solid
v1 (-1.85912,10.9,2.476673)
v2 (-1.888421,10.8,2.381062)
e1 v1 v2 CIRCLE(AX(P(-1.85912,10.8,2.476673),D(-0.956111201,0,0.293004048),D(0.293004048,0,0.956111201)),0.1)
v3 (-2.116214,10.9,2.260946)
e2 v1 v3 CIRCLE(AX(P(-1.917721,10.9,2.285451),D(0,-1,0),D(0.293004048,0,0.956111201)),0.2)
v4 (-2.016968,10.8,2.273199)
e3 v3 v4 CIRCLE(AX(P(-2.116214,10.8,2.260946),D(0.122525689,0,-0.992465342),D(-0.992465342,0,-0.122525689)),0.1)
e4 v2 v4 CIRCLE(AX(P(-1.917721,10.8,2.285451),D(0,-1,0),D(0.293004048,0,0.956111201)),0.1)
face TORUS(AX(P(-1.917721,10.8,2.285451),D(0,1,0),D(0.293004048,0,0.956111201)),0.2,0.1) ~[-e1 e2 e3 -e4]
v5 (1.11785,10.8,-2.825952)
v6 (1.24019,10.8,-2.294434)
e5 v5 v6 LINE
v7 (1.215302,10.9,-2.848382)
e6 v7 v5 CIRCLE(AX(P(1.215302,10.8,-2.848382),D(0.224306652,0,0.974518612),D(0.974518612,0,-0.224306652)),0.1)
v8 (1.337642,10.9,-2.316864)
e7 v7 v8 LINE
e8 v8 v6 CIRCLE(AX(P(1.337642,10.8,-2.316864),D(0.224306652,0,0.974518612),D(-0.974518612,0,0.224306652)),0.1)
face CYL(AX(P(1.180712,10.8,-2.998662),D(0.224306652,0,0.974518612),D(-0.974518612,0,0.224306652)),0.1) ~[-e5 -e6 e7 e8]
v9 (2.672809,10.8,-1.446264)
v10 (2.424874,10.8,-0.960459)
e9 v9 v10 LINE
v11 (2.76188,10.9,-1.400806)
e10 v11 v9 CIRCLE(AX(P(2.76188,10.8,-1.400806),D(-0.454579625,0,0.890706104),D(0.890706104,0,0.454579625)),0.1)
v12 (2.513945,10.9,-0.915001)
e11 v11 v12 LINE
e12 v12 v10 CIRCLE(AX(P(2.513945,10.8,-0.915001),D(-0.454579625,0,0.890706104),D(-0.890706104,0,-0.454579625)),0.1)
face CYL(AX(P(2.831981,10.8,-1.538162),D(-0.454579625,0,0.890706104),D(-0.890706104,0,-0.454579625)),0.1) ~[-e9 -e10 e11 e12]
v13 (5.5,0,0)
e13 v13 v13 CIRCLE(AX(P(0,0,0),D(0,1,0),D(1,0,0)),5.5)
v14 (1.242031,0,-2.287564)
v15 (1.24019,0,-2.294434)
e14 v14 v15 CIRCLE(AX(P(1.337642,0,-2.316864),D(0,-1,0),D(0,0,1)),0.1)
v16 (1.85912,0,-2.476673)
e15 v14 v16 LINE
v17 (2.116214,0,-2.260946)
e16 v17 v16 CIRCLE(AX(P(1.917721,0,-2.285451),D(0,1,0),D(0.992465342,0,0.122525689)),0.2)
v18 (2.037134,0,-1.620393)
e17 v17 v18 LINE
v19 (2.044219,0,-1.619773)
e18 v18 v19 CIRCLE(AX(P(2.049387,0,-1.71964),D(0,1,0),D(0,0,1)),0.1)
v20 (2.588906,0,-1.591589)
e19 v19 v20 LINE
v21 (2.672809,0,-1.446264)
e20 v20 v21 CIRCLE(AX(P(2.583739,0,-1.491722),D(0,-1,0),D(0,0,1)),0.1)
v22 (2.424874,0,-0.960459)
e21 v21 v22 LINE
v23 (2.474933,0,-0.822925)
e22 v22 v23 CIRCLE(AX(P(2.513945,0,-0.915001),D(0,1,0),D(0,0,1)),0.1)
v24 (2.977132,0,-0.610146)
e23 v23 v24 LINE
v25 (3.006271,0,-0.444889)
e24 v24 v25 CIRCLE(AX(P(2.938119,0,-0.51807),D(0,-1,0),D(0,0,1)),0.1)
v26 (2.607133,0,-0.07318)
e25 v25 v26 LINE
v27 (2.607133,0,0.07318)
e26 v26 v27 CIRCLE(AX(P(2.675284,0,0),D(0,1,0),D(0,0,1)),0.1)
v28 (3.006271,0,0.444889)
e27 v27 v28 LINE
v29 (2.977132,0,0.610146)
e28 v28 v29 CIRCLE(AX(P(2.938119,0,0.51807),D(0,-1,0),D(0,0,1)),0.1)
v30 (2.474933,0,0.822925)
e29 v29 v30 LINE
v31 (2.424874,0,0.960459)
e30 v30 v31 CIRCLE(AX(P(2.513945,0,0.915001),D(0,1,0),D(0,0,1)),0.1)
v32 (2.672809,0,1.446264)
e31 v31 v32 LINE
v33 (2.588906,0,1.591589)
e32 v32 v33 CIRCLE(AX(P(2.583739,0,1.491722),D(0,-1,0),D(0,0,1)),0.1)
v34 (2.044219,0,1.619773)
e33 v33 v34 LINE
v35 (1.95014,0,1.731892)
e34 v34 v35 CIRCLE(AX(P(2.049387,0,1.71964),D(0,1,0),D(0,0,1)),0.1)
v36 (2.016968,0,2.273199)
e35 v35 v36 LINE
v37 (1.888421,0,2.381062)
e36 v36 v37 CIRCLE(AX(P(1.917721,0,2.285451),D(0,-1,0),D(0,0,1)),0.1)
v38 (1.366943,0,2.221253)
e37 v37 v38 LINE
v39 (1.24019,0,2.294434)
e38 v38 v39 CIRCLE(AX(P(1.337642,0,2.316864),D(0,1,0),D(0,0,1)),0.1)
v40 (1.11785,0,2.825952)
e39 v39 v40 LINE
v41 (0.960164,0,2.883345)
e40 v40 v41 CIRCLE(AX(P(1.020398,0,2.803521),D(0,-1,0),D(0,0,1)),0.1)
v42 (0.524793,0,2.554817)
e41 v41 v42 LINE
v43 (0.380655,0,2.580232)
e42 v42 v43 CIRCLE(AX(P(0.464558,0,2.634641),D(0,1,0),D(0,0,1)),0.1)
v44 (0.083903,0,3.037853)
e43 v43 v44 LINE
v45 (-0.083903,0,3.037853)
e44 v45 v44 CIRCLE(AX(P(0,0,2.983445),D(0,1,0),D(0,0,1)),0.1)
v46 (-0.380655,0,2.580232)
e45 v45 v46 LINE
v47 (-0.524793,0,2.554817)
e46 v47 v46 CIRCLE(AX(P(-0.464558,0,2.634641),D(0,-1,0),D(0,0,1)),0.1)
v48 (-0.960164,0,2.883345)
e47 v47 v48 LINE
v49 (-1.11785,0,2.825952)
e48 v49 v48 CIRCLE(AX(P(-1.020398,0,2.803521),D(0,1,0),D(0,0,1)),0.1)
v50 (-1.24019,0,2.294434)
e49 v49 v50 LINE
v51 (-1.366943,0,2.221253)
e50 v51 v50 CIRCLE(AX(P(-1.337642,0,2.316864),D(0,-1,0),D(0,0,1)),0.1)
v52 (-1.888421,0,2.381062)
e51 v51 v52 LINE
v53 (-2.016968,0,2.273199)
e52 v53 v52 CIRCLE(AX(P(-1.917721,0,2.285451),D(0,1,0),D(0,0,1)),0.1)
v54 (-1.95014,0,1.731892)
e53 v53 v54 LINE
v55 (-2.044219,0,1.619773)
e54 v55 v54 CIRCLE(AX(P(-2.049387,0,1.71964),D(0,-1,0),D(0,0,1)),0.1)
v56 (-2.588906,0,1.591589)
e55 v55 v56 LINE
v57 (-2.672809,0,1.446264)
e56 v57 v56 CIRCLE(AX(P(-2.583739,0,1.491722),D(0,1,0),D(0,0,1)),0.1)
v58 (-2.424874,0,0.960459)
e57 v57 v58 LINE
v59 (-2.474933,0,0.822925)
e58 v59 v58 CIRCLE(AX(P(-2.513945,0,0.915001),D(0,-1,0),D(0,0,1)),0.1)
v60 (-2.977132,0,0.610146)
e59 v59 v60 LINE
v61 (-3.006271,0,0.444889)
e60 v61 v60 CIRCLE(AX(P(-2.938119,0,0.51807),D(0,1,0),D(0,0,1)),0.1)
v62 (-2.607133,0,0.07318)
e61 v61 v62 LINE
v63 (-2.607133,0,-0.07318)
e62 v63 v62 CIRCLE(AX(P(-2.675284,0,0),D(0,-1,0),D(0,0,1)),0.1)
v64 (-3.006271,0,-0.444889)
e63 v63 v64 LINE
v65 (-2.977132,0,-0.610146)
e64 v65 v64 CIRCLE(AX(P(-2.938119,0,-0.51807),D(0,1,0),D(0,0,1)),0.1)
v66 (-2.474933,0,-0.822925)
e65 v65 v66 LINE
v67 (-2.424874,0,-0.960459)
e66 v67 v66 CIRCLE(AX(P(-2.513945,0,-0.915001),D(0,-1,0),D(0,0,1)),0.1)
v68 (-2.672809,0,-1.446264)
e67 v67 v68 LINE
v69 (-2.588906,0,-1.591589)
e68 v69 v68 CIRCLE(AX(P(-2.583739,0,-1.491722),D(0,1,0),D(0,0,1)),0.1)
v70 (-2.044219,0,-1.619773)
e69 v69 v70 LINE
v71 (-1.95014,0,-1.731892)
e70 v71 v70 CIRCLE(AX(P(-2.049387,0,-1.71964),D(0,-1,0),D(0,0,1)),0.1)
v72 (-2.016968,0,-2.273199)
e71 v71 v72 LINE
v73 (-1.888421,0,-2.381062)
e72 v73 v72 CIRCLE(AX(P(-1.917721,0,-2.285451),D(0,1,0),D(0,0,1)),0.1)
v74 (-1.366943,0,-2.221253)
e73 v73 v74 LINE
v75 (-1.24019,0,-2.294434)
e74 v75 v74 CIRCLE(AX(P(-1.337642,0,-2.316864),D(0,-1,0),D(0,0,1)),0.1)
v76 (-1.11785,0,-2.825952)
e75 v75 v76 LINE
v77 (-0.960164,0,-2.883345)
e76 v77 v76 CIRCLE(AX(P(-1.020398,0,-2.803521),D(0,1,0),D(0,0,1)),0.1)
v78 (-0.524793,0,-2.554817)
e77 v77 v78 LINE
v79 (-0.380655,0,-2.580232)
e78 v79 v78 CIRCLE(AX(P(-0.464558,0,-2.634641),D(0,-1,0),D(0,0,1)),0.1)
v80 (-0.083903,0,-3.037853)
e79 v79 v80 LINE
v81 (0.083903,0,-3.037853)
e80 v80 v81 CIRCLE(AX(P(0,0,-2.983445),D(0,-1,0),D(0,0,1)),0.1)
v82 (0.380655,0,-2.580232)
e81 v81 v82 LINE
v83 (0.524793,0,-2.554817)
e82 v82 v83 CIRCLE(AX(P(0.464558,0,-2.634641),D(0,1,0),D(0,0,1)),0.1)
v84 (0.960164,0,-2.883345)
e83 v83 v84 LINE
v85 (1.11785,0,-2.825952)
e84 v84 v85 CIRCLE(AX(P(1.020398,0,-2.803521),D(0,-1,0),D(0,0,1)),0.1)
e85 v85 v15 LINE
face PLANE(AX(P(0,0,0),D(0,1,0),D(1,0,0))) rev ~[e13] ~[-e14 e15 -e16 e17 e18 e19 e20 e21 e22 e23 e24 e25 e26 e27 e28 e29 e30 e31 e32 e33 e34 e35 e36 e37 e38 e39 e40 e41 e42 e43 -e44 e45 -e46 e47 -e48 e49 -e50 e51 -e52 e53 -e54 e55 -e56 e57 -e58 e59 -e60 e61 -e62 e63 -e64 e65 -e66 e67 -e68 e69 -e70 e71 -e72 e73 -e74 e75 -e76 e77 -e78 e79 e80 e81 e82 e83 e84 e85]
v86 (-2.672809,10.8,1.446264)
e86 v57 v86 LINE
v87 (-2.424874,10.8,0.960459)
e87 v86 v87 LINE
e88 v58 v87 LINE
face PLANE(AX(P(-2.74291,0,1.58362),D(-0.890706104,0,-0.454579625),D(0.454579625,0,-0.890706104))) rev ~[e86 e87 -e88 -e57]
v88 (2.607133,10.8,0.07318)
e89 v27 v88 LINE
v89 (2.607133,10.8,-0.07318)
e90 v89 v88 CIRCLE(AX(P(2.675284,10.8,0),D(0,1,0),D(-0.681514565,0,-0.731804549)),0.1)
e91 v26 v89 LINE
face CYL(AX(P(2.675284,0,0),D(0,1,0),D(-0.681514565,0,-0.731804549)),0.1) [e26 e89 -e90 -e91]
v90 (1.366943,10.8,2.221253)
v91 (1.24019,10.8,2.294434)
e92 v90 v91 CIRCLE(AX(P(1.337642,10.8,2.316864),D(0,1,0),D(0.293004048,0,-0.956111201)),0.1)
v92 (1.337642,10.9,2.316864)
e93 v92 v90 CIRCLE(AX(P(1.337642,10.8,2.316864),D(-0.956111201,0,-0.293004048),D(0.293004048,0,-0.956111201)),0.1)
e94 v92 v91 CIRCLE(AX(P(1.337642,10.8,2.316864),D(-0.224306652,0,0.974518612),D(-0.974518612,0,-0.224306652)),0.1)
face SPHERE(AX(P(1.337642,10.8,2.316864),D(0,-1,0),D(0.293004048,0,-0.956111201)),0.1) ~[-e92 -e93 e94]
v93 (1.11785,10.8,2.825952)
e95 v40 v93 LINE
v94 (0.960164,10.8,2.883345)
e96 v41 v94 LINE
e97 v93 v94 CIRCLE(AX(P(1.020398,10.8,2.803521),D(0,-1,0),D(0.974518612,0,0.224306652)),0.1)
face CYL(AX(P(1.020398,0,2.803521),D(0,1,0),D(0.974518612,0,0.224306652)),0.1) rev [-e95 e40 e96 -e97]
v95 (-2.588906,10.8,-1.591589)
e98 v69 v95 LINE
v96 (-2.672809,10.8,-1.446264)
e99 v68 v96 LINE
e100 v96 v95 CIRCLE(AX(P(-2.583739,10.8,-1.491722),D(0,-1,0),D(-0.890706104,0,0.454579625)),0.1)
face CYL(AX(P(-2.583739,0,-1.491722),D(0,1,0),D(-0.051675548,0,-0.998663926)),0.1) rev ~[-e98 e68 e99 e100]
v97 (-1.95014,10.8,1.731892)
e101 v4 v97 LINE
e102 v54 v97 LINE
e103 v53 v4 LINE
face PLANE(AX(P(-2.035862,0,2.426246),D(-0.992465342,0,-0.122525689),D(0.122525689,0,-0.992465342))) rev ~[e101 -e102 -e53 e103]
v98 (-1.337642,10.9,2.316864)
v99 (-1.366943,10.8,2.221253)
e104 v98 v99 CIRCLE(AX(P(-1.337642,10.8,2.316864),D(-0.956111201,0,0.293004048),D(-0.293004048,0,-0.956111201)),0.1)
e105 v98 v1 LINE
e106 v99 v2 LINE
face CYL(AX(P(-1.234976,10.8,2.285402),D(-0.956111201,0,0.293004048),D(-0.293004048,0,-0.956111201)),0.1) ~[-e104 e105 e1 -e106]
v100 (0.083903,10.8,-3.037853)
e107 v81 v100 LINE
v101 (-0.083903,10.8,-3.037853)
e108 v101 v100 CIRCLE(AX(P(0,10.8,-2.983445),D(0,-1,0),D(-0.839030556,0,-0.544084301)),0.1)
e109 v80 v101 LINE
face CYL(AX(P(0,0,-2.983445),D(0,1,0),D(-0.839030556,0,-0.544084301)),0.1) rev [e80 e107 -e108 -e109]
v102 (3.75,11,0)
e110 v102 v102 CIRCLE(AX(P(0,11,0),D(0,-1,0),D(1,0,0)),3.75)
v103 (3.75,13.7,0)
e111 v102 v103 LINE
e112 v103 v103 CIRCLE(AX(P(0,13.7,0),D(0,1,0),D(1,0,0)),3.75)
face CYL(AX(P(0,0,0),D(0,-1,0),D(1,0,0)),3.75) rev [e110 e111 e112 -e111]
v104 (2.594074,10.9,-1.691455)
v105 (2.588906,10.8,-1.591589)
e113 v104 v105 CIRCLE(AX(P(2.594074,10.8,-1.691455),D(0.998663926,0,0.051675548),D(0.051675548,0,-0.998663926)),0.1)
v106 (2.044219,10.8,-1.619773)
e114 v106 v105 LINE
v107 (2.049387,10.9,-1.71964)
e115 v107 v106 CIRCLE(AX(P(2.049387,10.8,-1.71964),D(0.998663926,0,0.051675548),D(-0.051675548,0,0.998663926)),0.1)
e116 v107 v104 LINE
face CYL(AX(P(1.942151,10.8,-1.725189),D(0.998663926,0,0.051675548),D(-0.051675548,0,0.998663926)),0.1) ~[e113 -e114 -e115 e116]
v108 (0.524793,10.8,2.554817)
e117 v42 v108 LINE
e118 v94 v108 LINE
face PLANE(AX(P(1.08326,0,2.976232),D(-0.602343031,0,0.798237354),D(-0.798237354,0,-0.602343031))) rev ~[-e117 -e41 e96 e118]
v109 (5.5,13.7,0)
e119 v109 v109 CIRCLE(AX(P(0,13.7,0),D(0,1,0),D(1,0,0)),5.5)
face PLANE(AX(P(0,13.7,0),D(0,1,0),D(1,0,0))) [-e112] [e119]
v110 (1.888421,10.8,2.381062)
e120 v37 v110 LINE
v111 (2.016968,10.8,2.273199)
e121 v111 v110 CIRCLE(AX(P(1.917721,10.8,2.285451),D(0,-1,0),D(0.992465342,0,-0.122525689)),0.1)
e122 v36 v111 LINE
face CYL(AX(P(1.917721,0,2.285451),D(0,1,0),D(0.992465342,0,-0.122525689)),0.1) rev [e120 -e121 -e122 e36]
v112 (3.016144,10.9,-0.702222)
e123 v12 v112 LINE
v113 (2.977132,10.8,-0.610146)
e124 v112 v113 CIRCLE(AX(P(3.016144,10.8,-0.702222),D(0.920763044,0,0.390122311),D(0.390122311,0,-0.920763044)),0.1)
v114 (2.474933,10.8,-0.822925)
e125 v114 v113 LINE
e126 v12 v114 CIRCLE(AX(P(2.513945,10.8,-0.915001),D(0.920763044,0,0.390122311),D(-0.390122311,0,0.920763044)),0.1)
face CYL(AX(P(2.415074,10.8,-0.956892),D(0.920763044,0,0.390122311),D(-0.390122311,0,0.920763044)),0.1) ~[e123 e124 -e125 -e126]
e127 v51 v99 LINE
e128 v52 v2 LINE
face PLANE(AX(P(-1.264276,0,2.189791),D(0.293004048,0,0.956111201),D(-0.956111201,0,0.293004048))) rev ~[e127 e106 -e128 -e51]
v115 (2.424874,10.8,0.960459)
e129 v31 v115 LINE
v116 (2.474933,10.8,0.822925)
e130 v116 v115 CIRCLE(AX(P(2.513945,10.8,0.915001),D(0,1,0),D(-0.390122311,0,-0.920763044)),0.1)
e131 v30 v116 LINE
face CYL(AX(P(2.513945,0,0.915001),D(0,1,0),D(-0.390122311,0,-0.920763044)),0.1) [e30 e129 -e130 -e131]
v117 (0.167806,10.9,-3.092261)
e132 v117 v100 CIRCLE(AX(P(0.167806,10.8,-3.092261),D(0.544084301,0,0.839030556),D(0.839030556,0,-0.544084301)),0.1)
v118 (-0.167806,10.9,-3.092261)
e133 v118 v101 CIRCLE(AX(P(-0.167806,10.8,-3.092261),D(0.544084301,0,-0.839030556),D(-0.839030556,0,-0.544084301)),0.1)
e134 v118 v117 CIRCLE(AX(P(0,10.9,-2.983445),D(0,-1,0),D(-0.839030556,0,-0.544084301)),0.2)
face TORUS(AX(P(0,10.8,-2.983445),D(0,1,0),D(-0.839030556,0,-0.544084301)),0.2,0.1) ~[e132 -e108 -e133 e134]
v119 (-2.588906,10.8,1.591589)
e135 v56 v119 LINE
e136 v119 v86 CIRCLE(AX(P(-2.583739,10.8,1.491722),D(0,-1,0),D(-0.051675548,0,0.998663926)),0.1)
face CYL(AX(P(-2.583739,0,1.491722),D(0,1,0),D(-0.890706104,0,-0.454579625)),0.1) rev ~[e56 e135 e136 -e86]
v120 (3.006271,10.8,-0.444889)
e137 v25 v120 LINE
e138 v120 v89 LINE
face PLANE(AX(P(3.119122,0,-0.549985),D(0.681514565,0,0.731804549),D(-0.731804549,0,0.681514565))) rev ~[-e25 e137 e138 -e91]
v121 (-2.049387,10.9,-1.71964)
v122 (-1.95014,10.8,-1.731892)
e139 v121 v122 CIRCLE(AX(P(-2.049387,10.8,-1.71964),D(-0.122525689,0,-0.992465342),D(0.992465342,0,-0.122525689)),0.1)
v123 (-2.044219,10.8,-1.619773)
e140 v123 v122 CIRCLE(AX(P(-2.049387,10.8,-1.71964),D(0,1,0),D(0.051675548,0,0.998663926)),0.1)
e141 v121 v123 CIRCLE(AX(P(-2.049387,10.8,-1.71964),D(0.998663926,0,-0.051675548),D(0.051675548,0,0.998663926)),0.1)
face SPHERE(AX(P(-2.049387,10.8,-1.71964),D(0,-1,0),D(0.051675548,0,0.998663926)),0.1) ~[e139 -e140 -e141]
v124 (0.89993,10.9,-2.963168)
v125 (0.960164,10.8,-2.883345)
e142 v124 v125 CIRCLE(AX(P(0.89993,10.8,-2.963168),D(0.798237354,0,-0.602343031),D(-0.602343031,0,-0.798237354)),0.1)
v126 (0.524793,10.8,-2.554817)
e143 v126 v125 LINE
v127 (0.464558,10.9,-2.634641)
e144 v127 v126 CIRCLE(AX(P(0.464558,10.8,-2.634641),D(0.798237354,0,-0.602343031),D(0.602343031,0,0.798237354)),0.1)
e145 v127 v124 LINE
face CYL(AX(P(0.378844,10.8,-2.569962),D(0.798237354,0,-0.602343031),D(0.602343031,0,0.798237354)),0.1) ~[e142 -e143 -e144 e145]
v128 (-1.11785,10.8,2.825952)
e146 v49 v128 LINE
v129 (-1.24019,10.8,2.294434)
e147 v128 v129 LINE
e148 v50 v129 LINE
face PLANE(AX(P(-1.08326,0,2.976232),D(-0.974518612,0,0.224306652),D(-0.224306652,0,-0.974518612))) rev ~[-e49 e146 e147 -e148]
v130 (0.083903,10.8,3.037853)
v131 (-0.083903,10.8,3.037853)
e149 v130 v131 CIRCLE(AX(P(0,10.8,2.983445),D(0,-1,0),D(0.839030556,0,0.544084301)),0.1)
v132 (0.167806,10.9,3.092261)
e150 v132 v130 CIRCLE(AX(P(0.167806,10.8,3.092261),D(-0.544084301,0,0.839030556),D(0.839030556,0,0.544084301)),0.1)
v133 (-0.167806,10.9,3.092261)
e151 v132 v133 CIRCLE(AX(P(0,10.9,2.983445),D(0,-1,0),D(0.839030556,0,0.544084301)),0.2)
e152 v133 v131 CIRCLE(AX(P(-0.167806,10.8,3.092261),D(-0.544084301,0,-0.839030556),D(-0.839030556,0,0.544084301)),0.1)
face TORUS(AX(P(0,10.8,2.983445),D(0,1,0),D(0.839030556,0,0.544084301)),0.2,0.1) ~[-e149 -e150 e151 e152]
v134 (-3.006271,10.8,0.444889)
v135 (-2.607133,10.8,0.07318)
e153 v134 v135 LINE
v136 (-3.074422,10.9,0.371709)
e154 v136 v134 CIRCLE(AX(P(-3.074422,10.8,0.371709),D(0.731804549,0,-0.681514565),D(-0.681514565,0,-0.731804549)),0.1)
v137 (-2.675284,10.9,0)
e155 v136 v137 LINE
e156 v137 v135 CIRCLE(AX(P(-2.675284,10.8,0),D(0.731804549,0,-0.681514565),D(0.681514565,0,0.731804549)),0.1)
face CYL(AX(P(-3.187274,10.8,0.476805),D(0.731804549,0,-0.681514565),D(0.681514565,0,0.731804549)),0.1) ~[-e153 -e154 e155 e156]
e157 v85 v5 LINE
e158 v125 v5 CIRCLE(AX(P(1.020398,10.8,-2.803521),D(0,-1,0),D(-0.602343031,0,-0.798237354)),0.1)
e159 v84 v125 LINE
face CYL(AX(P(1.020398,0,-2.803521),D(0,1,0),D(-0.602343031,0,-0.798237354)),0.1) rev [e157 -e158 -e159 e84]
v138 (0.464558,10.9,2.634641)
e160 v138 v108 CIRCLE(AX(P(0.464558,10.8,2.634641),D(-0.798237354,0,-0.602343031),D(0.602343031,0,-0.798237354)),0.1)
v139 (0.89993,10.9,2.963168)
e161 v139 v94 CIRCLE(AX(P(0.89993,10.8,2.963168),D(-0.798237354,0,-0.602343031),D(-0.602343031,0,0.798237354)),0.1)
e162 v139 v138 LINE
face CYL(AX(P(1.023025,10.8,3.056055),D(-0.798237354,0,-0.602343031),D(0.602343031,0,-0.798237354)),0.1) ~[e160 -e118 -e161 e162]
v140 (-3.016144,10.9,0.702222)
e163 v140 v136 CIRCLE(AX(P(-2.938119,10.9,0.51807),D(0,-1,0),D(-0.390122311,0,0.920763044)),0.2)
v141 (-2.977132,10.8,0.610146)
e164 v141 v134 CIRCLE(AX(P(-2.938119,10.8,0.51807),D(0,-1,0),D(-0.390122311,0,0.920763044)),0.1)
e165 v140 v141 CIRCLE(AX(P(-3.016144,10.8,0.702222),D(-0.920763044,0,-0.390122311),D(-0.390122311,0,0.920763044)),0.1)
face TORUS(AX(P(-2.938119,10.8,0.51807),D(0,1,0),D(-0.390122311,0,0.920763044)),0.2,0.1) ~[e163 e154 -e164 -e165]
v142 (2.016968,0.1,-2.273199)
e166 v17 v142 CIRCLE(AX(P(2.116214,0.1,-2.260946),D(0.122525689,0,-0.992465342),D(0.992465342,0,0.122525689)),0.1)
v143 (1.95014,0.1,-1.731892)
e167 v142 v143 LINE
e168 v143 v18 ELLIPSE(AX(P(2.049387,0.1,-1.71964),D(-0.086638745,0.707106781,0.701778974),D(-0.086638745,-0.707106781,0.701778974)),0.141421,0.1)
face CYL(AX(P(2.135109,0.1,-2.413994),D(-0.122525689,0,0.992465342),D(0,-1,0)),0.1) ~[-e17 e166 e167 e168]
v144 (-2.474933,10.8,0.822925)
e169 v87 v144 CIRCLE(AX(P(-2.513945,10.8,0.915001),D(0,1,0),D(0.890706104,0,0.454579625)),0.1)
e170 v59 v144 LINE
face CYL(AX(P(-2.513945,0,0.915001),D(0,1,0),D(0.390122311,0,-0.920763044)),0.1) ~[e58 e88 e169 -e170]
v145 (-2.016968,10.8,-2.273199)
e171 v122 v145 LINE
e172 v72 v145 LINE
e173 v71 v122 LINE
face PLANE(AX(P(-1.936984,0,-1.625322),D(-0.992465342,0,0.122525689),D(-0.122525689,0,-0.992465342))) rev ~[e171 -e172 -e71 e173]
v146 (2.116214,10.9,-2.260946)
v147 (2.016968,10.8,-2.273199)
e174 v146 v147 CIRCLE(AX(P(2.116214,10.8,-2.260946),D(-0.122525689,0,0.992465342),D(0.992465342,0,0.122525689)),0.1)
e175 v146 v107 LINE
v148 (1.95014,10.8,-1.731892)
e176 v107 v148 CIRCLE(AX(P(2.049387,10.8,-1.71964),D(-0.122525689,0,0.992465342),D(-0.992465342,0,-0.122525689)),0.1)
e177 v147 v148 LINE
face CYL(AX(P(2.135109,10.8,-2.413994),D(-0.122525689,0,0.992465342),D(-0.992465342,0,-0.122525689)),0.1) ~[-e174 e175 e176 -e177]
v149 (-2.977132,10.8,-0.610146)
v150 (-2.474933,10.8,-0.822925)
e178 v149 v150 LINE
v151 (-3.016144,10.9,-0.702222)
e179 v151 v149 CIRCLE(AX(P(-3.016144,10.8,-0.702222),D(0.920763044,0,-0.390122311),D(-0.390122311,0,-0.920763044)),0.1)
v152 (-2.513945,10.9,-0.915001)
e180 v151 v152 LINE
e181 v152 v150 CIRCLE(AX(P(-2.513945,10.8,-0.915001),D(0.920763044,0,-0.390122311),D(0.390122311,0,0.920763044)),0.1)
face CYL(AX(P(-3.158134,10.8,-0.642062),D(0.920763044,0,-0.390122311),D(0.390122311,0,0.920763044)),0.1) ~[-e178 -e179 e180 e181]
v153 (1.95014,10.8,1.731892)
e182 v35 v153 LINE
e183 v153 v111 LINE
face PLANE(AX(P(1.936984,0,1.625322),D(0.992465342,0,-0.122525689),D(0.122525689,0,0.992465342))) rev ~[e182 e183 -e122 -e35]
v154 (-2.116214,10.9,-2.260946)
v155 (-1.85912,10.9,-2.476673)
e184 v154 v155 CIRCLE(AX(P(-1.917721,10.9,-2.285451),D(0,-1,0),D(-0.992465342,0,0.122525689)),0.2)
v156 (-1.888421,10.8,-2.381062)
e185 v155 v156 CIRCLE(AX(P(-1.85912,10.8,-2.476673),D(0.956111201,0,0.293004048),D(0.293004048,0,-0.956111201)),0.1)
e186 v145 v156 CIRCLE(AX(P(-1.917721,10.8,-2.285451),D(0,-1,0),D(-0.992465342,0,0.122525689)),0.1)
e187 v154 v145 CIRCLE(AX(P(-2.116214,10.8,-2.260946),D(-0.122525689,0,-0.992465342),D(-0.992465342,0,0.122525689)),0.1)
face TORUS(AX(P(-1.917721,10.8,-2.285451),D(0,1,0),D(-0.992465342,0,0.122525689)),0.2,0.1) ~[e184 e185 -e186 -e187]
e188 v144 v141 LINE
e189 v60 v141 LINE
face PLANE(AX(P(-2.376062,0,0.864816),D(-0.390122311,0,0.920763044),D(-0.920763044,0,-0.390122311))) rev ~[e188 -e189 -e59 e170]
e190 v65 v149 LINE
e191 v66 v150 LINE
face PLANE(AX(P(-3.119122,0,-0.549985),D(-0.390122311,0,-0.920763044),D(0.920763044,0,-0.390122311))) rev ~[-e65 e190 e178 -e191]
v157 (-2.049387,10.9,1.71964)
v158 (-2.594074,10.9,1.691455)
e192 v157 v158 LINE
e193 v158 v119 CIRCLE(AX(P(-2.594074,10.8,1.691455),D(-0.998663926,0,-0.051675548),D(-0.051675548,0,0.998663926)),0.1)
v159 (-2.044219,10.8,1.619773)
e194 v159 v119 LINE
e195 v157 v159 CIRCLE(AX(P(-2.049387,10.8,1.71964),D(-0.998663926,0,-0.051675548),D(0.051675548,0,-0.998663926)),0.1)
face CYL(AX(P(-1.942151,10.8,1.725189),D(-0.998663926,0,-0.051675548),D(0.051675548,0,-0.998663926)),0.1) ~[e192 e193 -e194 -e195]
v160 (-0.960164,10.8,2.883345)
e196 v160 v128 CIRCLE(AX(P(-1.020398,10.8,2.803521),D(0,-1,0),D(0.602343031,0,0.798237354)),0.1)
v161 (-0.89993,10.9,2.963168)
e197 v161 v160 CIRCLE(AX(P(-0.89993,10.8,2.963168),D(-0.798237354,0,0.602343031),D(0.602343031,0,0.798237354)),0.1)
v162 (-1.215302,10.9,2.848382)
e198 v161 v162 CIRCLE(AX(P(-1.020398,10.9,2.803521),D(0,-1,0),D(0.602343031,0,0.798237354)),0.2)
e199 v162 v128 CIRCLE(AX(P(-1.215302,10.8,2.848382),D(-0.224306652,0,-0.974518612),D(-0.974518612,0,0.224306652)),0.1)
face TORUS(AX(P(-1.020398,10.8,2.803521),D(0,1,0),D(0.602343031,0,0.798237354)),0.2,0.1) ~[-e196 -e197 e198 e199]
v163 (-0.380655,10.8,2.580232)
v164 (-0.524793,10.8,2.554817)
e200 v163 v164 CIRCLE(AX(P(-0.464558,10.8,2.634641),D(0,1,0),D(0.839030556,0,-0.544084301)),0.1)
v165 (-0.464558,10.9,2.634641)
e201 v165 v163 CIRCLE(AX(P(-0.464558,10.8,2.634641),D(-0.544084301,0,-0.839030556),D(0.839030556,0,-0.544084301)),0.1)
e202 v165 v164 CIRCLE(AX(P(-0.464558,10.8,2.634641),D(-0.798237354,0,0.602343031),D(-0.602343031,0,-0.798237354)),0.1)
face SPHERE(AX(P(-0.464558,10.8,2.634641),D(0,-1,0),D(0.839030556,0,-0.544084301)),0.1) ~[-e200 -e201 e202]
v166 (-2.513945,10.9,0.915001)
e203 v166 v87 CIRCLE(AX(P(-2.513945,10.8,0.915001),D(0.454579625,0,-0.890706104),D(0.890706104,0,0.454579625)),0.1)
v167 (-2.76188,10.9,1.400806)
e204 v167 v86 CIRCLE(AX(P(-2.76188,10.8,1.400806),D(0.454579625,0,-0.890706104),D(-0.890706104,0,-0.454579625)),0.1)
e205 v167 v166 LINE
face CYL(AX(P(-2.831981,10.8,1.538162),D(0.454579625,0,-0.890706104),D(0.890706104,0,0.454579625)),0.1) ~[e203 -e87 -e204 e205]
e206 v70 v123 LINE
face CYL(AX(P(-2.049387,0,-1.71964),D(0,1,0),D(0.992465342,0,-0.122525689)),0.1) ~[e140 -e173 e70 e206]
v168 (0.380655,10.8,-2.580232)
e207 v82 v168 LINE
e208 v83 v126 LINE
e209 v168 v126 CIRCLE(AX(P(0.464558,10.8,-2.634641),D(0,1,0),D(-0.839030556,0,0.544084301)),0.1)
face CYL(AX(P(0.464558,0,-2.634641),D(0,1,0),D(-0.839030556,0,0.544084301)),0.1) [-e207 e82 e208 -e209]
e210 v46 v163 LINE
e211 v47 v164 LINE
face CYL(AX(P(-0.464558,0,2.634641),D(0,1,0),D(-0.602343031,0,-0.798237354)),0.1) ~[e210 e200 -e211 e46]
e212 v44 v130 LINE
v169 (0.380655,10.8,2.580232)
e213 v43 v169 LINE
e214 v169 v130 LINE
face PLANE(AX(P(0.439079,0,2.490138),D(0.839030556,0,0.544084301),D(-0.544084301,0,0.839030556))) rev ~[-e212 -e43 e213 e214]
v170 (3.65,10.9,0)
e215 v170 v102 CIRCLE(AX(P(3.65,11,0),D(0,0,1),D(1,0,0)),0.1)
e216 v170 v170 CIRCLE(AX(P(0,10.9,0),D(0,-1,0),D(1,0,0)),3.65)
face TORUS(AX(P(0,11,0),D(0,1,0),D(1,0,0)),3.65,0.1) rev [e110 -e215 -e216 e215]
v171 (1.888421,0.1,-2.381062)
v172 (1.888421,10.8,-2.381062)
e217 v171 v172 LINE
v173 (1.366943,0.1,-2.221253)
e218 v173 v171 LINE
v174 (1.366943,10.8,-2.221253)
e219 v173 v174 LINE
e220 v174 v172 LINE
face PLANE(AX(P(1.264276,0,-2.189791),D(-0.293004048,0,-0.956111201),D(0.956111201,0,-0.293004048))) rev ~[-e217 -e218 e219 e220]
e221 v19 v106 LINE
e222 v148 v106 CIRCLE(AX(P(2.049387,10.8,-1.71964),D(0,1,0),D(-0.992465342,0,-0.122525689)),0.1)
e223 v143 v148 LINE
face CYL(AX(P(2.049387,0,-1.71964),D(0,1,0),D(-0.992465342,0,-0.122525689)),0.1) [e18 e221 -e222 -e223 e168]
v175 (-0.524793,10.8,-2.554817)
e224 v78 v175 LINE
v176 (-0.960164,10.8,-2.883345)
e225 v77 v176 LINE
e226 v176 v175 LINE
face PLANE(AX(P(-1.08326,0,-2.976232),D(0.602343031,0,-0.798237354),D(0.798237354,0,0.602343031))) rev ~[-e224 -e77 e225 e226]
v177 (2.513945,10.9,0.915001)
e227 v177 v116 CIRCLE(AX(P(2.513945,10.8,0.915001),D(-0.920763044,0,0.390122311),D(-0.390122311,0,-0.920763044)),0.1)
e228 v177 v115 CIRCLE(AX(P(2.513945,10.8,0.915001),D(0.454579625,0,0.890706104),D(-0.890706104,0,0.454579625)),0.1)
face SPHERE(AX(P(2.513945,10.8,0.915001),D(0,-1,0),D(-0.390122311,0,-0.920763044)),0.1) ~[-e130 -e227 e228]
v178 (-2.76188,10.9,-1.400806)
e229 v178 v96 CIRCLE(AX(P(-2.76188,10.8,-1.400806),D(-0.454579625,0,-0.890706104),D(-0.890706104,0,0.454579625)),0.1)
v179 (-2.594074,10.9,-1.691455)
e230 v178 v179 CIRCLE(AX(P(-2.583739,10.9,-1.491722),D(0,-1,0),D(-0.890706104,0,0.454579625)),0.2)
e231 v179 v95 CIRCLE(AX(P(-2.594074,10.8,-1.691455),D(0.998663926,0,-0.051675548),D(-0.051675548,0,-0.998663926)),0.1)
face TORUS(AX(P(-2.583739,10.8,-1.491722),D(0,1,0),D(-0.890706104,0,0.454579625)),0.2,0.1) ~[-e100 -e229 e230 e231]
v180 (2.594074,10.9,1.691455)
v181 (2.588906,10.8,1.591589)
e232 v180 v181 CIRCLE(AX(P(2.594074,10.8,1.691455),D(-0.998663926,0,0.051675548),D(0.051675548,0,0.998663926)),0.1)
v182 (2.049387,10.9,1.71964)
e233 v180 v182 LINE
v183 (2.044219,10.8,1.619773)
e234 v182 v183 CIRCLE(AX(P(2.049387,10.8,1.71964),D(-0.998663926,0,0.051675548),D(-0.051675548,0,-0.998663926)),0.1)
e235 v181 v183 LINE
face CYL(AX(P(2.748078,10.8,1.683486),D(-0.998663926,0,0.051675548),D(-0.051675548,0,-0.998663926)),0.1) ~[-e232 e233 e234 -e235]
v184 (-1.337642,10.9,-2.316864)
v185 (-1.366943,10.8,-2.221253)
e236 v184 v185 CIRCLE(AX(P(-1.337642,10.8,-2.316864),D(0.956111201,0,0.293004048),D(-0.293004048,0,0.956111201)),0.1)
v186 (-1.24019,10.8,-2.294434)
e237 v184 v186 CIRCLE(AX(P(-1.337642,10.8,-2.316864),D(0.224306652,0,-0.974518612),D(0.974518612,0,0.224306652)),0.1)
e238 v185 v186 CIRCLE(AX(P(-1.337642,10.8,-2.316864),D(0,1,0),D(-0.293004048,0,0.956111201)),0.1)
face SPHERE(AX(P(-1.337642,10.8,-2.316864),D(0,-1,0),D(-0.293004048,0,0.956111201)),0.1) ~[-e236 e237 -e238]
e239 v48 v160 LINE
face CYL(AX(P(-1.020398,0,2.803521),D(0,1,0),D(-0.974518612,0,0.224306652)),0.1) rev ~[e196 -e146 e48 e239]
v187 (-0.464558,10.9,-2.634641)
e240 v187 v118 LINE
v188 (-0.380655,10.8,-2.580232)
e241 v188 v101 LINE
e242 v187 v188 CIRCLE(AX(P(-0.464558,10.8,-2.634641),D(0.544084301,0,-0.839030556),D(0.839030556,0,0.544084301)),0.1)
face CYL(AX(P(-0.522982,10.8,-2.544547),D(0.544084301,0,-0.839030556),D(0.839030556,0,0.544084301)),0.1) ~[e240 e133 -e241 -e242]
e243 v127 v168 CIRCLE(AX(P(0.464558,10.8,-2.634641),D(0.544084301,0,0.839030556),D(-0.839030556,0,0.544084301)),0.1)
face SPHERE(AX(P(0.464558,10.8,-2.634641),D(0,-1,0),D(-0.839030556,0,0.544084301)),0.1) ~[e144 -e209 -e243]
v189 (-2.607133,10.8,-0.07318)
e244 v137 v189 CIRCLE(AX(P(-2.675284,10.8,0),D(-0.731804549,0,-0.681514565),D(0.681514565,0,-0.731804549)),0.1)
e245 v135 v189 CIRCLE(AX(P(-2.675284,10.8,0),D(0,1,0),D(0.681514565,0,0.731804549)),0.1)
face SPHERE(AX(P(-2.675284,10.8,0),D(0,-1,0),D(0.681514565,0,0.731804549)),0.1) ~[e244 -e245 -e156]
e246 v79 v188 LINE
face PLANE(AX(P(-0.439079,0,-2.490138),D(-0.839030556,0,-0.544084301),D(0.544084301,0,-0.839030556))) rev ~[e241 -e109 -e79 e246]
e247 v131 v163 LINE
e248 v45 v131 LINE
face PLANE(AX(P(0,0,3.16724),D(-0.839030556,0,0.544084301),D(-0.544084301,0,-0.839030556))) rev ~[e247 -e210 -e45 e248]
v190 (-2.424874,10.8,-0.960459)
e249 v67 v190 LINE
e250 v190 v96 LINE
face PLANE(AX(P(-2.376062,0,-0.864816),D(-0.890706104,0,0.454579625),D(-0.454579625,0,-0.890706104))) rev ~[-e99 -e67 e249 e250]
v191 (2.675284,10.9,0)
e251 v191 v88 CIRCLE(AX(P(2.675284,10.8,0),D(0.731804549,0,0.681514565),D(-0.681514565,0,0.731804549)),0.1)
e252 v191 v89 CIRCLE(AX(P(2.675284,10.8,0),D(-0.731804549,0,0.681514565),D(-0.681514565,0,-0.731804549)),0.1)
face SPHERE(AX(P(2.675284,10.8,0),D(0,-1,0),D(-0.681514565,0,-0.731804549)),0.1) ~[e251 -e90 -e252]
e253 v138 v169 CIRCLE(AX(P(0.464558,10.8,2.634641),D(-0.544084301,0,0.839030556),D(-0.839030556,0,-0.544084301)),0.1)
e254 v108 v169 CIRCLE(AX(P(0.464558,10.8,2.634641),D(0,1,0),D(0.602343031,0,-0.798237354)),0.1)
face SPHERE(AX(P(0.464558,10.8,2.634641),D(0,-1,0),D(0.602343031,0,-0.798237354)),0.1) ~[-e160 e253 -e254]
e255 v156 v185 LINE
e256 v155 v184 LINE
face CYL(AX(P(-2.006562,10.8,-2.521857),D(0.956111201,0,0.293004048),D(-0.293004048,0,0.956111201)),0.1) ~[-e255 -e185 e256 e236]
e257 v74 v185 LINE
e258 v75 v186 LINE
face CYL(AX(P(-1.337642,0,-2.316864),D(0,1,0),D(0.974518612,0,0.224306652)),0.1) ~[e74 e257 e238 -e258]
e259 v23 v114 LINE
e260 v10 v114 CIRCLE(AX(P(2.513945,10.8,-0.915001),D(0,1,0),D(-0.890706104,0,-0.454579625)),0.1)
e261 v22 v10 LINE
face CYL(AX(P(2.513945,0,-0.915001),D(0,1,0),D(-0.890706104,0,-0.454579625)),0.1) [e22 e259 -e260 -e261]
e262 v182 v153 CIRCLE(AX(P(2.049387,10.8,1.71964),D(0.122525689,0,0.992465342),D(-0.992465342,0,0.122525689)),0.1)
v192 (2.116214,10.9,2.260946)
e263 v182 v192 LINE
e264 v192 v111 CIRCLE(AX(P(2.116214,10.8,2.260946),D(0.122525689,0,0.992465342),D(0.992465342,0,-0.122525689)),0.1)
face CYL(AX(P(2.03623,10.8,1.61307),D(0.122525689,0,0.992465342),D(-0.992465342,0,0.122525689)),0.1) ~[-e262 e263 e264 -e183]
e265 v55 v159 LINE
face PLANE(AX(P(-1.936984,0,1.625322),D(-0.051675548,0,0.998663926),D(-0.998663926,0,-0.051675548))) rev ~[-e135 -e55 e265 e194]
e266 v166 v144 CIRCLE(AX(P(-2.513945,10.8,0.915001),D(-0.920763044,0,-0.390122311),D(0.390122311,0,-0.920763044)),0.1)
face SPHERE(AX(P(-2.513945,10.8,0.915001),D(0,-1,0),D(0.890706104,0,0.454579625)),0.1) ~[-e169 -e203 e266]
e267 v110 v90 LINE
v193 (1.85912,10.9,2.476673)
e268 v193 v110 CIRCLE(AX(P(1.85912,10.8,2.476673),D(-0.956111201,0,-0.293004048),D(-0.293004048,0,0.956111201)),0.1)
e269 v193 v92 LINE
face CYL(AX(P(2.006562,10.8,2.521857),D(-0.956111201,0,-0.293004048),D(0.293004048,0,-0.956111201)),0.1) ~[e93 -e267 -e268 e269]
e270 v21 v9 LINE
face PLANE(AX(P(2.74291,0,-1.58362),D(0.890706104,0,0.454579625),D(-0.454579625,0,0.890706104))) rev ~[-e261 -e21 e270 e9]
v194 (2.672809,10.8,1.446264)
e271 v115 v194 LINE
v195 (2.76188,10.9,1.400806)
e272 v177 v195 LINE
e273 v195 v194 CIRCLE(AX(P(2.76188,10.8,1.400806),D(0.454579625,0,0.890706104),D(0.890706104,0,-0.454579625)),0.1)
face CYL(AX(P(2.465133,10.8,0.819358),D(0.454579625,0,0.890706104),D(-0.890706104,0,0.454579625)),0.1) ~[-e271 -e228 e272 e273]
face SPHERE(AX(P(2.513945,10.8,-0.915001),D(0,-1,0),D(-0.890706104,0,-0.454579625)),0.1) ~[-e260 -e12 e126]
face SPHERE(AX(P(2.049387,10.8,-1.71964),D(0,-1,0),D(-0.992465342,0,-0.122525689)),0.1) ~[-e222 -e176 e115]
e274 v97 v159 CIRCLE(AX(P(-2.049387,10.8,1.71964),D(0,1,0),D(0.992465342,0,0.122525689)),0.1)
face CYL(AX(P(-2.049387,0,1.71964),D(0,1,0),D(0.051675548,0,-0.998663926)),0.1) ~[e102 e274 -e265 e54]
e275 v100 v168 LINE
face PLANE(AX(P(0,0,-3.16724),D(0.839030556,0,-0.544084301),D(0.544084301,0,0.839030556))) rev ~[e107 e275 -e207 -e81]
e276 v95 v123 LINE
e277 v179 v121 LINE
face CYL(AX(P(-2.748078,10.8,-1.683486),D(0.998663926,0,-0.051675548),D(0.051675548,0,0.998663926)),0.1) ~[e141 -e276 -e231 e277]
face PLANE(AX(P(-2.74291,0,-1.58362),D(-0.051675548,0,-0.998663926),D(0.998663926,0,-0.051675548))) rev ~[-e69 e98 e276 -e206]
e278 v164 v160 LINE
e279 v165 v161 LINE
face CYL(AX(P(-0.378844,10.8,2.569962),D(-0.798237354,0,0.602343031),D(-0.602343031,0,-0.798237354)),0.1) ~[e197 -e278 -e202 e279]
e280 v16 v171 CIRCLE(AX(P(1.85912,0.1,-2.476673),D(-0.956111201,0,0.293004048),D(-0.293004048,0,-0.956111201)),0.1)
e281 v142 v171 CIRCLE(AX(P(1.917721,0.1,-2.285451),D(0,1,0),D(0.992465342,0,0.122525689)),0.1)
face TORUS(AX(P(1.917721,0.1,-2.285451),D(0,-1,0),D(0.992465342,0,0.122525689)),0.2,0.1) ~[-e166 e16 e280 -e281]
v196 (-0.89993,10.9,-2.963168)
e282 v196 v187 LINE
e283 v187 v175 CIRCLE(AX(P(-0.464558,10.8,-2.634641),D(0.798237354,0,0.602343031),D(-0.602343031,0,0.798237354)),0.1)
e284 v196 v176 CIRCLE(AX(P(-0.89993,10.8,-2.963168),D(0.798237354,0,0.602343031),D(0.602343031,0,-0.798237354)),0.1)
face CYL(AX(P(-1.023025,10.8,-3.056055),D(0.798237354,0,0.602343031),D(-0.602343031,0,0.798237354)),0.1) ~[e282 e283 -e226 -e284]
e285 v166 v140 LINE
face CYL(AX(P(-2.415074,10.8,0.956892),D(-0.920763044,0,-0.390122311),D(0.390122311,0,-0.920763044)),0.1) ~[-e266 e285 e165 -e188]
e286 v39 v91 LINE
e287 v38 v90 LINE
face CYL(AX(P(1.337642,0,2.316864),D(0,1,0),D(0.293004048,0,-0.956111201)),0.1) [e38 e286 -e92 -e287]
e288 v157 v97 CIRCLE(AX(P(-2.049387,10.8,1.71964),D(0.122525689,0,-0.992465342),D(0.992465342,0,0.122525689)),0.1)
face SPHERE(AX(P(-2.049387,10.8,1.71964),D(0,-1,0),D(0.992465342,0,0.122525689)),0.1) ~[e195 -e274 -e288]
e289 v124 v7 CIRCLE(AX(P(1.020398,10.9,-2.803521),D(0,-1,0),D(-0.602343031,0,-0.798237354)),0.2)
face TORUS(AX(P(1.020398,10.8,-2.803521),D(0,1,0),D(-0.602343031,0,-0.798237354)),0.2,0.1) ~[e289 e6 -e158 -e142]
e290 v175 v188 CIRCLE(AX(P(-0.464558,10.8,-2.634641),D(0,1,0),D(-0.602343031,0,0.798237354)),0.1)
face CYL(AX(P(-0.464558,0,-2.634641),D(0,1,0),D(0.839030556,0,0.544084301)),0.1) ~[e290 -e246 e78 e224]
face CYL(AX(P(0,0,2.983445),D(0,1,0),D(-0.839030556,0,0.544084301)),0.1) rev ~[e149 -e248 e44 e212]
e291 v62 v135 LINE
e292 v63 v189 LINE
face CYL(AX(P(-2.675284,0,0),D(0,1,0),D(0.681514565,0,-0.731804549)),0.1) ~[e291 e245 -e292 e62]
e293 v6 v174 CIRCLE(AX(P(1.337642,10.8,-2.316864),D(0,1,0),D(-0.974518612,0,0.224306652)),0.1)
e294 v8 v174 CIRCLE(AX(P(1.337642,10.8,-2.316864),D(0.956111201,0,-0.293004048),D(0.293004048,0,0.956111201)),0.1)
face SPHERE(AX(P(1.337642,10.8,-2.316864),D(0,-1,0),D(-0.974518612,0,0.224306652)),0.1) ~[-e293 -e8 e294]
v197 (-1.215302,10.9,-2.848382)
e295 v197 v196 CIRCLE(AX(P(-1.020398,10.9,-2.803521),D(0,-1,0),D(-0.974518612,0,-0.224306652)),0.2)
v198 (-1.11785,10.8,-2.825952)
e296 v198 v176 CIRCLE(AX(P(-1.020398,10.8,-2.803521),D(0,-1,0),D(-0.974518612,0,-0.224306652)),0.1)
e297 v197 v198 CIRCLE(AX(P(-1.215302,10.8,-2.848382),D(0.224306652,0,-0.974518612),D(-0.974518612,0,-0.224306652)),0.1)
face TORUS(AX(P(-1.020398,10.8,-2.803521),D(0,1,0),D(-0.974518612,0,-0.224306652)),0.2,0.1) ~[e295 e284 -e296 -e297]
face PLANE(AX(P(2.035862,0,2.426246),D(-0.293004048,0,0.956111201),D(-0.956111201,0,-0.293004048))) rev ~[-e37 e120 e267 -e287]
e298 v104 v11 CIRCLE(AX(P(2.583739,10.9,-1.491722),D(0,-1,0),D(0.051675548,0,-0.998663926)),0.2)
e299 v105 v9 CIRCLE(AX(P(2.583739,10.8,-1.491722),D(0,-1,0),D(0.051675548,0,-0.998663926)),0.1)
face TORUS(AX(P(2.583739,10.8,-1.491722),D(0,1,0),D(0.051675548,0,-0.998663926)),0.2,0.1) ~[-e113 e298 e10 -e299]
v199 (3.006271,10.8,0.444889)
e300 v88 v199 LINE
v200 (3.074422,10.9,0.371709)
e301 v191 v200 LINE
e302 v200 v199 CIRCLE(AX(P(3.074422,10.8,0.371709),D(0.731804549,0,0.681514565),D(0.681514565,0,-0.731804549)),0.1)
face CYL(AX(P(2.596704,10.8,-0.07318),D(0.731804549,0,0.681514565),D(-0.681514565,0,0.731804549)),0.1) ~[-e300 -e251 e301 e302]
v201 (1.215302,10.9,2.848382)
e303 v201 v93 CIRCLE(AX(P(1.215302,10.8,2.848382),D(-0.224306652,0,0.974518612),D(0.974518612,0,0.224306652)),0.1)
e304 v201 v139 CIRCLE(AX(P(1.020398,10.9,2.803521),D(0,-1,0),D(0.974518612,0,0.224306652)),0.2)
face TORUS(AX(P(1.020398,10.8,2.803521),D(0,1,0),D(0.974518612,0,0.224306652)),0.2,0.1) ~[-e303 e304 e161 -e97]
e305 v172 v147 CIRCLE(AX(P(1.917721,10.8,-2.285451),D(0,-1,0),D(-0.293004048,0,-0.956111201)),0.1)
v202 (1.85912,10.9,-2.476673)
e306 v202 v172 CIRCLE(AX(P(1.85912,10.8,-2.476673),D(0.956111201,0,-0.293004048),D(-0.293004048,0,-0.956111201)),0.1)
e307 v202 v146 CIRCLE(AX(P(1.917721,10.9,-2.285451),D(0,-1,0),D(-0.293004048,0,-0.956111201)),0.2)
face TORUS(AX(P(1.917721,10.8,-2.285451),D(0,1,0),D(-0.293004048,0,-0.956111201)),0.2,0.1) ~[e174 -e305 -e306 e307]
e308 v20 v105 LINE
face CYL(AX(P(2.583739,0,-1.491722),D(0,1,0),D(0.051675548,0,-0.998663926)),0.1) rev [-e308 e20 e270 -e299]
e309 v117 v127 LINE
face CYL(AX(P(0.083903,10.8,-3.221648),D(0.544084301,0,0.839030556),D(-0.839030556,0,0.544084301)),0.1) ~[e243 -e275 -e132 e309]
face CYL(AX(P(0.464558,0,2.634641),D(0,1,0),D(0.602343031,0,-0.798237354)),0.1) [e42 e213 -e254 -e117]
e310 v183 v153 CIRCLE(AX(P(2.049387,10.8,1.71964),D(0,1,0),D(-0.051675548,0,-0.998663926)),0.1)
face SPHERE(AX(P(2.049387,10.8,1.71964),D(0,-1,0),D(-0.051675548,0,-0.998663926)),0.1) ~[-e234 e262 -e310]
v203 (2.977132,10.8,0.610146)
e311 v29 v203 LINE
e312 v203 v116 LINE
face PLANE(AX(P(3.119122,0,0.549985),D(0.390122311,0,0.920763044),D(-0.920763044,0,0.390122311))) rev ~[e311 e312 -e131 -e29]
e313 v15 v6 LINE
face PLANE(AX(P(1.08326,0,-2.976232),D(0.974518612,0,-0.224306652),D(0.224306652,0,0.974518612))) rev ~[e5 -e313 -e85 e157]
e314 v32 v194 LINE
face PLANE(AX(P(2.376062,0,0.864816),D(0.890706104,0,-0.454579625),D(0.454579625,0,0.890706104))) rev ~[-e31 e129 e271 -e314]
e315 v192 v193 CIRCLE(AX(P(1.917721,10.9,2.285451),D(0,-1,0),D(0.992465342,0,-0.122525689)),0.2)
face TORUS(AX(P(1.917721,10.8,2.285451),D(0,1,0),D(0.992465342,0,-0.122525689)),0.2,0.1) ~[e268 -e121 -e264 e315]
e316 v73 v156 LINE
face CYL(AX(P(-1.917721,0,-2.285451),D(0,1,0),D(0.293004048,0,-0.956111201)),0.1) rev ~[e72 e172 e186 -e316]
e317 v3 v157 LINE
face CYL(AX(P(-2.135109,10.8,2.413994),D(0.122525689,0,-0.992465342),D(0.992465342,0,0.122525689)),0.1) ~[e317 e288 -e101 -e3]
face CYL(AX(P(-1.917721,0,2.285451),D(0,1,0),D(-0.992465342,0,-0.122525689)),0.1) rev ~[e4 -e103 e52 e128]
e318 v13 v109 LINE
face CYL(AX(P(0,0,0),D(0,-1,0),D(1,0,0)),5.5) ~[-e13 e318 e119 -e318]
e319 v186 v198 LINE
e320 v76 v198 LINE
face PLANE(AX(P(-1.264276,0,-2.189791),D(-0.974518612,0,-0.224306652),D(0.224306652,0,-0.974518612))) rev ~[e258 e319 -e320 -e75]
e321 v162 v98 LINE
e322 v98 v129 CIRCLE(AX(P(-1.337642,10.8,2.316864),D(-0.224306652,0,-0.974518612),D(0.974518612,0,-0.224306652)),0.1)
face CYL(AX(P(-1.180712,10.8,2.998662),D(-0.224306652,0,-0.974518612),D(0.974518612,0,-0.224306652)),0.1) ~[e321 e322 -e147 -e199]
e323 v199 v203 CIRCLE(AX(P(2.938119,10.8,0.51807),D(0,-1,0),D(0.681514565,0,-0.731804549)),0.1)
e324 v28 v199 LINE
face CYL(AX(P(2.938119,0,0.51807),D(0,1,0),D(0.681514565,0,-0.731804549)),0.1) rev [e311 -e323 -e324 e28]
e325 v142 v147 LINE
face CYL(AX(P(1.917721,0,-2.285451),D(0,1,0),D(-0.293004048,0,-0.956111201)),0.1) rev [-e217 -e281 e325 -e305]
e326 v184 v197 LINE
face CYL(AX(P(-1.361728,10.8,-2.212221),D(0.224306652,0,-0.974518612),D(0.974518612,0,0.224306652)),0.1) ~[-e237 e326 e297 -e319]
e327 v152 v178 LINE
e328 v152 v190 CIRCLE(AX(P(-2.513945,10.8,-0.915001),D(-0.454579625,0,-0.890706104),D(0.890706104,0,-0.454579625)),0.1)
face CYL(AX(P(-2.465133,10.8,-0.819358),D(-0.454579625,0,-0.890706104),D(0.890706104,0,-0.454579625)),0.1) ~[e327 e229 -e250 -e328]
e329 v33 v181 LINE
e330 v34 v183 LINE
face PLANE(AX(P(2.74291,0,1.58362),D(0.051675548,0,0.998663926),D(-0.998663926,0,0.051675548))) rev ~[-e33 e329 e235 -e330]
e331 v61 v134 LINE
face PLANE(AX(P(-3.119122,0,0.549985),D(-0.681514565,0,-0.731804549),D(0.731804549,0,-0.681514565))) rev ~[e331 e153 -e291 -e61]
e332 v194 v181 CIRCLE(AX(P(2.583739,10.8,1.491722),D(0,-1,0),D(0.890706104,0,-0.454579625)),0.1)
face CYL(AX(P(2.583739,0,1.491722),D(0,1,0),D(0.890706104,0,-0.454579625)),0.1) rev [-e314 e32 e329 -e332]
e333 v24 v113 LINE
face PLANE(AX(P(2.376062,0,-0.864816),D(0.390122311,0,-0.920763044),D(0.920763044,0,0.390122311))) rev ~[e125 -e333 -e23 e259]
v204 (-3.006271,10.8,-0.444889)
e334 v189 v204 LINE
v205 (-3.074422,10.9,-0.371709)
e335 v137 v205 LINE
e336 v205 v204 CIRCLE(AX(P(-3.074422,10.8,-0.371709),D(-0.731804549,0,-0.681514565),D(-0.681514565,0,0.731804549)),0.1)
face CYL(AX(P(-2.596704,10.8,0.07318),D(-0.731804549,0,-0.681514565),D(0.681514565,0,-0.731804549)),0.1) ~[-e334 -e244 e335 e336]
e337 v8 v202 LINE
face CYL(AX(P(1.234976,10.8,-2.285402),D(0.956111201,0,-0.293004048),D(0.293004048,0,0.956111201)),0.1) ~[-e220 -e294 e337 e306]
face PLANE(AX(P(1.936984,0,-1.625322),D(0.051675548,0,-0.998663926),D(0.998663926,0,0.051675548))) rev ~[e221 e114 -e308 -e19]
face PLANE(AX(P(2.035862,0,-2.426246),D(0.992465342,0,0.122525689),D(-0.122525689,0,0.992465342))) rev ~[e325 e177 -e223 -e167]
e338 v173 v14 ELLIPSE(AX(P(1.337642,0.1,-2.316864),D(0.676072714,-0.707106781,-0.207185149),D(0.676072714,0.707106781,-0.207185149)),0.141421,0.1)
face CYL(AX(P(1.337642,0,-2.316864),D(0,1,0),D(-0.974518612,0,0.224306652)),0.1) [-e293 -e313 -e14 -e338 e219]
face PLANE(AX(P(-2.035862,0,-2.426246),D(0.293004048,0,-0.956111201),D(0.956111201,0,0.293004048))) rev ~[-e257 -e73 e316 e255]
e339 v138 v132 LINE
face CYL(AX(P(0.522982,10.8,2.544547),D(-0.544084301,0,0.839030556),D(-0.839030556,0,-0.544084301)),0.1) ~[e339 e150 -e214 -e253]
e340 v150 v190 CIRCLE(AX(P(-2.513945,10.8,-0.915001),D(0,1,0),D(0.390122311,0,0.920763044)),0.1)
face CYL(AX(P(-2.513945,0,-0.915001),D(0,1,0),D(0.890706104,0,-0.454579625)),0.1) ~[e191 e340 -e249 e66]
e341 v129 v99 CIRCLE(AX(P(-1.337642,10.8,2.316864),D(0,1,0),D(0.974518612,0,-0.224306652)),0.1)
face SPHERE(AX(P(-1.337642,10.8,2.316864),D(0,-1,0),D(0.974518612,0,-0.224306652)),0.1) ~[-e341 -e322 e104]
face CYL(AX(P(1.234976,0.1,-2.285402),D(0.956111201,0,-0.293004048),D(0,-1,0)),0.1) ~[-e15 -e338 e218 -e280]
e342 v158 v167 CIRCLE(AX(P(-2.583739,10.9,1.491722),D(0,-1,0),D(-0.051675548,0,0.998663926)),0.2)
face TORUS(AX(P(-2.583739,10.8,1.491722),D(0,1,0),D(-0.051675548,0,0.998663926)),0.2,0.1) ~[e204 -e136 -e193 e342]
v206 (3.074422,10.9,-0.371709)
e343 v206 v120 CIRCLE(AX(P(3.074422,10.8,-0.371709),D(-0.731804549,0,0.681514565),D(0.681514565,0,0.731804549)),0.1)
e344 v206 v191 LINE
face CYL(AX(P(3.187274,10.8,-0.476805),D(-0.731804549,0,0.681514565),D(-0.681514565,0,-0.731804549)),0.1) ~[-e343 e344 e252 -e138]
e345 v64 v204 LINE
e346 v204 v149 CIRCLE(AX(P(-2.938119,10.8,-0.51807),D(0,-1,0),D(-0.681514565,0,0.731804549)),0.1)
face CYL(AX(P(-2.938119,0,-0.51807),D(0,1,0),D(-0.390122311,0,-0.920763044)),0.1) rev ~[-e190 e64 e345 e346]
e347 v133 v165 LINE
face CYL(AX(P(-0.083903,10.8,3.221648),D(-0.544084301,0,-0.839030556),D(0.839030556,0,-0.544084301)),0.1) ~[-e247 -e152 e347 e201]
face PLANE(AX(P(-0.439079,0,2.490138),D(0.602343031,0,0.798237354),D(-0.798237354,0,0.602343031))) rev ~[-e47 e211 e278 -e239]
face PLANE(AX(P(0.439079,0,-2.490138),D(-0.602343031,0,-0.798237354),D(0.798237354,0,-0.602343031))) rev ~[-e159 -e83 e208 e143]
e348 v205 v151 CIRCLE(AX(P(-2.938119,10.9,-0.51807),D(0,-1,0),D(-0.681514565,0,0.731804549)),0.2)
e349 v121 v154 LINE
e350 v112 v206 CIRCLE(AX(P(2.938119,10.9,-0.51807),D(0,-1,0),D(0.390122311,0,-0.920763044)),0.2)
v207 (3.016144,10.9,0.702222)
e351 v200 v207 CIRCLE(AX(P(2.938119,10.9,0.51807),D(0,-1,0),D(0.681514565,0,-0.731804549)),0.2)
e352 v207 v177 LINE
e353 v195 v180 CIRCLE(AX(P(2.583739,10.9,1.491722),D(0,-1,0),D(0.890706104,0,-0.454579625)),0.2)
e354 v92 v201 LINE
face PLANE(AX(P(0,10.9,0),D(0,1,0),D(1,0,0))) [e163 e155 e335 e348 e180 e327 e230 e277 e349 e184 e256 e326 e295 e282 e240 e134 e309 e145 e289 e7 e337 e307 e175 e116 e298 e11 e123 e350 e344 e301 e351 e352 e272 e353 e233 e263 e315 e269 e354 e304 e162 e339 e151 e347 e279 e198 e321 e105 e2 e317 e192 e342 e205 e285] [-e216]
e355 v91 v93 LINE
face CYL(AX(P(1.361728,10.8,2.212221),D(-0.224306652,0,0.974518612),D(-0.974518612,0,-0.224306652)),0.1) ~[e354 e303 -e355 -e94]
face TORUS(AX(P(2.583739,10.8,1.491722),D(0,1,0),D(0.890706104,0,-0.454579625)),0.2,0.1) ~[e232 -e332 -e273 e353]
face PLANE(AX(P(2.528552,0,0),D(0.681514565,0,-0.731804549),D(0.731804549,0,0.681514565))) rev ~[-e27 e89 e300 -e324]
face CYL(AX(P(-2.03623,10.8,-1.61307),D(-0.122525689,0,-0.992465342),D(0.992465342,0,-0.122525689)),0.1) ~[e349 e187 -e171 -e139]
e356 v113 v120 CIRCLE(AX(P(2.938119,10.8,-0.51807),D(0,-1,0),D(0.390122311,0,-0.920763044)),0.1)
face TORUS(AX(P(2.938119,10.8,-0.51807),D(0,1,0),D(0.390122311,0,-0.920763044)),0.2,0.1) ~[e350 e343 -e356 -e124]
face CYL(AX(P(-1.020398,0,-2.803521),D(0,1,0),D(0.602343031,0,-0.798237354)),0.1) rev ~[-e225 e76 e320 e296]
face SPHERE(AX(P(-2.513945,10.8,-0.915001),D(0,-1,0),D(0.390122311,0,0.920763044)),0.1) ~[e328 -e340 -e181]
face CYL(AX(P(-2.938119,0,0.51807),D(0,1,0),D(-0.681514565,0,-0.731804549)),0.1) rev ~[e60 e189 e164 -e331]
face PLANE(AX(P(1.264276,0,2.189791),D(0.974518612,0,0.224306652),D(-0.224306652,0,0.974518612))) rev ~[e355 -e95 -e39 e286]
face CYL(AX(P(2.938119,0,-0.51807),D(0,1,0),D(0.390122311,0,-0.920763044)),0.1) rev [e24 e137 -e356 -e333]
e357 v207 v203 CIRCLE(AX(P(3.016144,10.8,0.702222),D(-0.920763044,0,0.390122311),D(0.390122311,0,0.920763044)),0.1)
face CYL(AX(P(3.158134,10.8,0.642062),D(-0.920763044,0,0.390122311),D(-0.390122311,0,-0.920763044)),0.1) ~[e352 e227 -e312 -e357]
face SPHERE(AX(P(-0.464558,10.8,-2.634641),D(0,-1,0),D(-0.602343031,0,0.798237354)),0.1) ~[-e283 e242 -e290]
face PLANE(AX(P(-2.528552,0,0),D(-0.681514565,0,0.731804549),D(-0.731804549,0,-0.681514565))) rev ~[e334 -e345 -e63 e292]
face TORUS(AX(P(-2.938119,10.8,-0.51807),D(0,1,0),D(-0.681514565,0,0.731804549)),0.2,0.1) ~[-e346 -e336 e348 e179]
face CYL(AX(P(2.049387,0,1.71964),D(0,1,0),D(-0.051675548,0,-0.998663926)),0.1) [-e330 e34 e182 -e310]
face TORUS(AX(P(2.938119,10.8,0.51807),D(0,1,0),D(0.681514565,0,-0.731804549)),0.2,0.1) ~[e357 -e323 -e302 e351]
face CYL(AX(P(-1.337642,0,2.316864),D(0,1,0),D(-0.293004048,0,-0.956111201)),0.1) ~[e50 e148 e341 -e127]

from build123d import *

# Parameters (mm, degrees)
SKETCH2_R           = 5.5
SKETCH2_R_2         = 3.75
BOSS_EXTRUDE1_DEPTH = 13.7
SKETCH3_R           = 4.607658028
BOSS_EXTRUDE2_DEPTH = 10.9
FILLET1_R           = 0.1


with BuildPart() as part:
    # Sketch2 → Boss-Extrude1 (new body)
    with BuildSketch(Plane(origin=(0, 0, 0), x_dir=(1, 0, 0), z_dir=(0, 1, 0))):
        Circle(SKETCH2_R)
        Circle(SKETCH2_R_2, mode=Mode.SUBTRACT)
    extrude(amount=BOSS_EXTRUDE1_DEPTH)

    # Sketch3 → Boss-Extrude2 (add)
    with BuildSketch(Plane(origin=(0, 0, 0), x_dir=(1, 0, 0), z_dir=(0, 1, 0))):
        Circle(SKETCH3_R)
        Polygon((0, 3.167239607), (0.439078531, 2.490138093), (1.083259744, 2.976231687), (1.264276243, 2.189790688), (2.035862376, 2.426246301), (1.936983582, 1.625322209), (2.74290996, 1.583619804), (2.376062113, 0.864815884), (3.119122121, 0.549985386), (2.528552487, 0), (3.119122121, -0.549985386), (2.376062113, -0.864815884), (2.74290996, -1.583619804), (1.936983582, -1.625322209), (2.035862376, -2.426246301), (1.264276243, -2.189790688), (1.083259744, -2.976231687), (0.439078531, -2.490138093), (0, -3.167239607), (-0.439078531, -2.490138093), (-1.083259744, -2.976231687), (-1.264276243, -2.189790688), (-2.035862376, -2.426246301), (-1.936983582, -1.625322209), (-2.74290996, -1.583619804), (-2.376062113, -0.864815884), (-3.119122121, -0.549985386), (-2.528552487, 0), (-3.119122121, 0.549985386), (-2.376062113, 0.864815884), (-2.74290996, 1.583619804), (-1.936983582, 1.625322209), (-2.035862376, 2.426246301), (-1.264276243, 2.189790688), (-1.083259744, 2.976231687), (-0.439078531, 2.490138093), align=None, mode=Mode.SUBTRACT)
    extrude(amount=BOSS_EXTRUDE2_DEPTH)

    # Fillet1
    fillet1_edges = [part.edges().sort_by_distance(p)[0] for p in [
        (-3.75, 10.9, 0),
        (1.986422979, 0, -2.025784255),
        (1.65006931, 0, -2.308018495),
        (1.173767994, 10.9, -2.583011188),
        (1.083259744, 5.45, -2.976231687),
        (1.65006931, 10.9, -2.308018495),
        (1.264276243, 5.45, -2.189790688),
        (1.986422979, 10.9, -2.025784255),
        (2.035862376, 5.45, -2.426246301),
        (2.339946771, 10.9, -1.604471006),
        (1.936983582, 5.45, -1.625322209),
        (2.559486036, 10.9, -1.224217844),
        (2.74290996, 5.45, -1.583619804),
        (2.747592117, 10.9, -0.707400635),
        (2.376062113, 5.45, -0.864815884),
        (2.823837304, 10.9, -0.274992693),
        (3.119122121, 5.45, -0.549985386),
        (2.823837304, 10.9, 0.274992693),
        (2.528552487, 5.45, 0),
        (2.747592117, 10.9, 0.707400635),
        (3.119122121, 5.45, 0.549985386),
        (2.559486036, 10.9, 1.224217844),
        (2.376062113, 5.45, 0.864815884),
        (2.339946771, 10.9, 1.604471006),
        (2.74290996, 5.45, 1.583619804),
        (1.986422979, 10.9, 2.025784255),
        (1.936983582, 5.45, 1.625322209),
        (1.65006931, 10.9, 2.308018495),
        (2.035862376, 5.45, 2.426246301),
        (1.173767994, 10.9, 2.583011188),
        (1.264276243, 5.45, 2.189790688),
        (0.761169138, 10.9, 2.73318489),
        (1.083259744, 5.45, 2.976231687),
        (0.219539266, 10.9, 2.82868885),
        (0.439078531, 5.45, 2.490138093),
        (-0.219539266, 10.9, 2.82868885),
        (0, 5.45, 3.167239607),
        (-0.761169138, 10.9, 2.73318489),
        (-0.439078531, 5.45, 2.490138093),
        (-1.173767994, 10.9, 2.583011188),
        (-1.083259744, 5.45, 2.976231687),
        (-1.65006931, 10.9, 2.308018495),
        (-1.264276243, 5.45, 2.189790688),
        (-1.986422979, 10.9, 2.025784255),
        (-2.035862376, 5.45, 2.426246301),
        (-2.339946771, 10.9, 1.604471006),
        (-1.936983582, 5.45, 1.625322209),
        (-2.559486036, 10.9, 1.224217844),
        (-2.74290996, 5.45, 1.583619804),
        (-2.747592117, 10.9, 0.707400635),
        (-2.376062113, 5.45, 0.864815884),
        (-2.823837304, 10.9, 0.274992693),
        (-3.119122121, 5.45, 0.549985386),
        (-2.823837304, 10.9, -0.274992693),
        (-2.528552487, 5.45, 0),
        (-2.747592117, 10.9, -0.707400635),
        (-3.119122121, 5.45, -0.549985386),
        (-2.559486036, 10.9, -1.224217844),
        (-2.376062113, 5.45, -0.864815884),
        (-2.339946771, 10.9, -1.604471006),
        (-2.74290996, 5.45, -1.583619804),
        (-1.986422979, 10.9, -2.025784255),
        (-1.936983582, 5.45, -1.625322209),
        (-1.65006931, 10.9, -2.308018495),
        (-2.035862376, 5.45, -2.426246301),
        (-1.173767994, 10.9, -2.583011188),
        (-1.264276243, 5.45, -2.189790688),
        (-0.761169138, 10.9, -2.73318489),
        (-1.083259744, 5.45, -2.976231687),
        (-0.219539266, 10.9, -2.82868885),
        (-0.439078531, 5.45, -2.490138093),
        (0.219539266, 10.9, -2.82868885),
        (0, 5.45, -3.167239607),
        (0.761169138, 10.9, -2.73318489),
        (0.439078531, 5.45, -2.490138093),
    ]]
    fillet(fillet1_edges, radius=FILLET1_R)


solid = part.part
